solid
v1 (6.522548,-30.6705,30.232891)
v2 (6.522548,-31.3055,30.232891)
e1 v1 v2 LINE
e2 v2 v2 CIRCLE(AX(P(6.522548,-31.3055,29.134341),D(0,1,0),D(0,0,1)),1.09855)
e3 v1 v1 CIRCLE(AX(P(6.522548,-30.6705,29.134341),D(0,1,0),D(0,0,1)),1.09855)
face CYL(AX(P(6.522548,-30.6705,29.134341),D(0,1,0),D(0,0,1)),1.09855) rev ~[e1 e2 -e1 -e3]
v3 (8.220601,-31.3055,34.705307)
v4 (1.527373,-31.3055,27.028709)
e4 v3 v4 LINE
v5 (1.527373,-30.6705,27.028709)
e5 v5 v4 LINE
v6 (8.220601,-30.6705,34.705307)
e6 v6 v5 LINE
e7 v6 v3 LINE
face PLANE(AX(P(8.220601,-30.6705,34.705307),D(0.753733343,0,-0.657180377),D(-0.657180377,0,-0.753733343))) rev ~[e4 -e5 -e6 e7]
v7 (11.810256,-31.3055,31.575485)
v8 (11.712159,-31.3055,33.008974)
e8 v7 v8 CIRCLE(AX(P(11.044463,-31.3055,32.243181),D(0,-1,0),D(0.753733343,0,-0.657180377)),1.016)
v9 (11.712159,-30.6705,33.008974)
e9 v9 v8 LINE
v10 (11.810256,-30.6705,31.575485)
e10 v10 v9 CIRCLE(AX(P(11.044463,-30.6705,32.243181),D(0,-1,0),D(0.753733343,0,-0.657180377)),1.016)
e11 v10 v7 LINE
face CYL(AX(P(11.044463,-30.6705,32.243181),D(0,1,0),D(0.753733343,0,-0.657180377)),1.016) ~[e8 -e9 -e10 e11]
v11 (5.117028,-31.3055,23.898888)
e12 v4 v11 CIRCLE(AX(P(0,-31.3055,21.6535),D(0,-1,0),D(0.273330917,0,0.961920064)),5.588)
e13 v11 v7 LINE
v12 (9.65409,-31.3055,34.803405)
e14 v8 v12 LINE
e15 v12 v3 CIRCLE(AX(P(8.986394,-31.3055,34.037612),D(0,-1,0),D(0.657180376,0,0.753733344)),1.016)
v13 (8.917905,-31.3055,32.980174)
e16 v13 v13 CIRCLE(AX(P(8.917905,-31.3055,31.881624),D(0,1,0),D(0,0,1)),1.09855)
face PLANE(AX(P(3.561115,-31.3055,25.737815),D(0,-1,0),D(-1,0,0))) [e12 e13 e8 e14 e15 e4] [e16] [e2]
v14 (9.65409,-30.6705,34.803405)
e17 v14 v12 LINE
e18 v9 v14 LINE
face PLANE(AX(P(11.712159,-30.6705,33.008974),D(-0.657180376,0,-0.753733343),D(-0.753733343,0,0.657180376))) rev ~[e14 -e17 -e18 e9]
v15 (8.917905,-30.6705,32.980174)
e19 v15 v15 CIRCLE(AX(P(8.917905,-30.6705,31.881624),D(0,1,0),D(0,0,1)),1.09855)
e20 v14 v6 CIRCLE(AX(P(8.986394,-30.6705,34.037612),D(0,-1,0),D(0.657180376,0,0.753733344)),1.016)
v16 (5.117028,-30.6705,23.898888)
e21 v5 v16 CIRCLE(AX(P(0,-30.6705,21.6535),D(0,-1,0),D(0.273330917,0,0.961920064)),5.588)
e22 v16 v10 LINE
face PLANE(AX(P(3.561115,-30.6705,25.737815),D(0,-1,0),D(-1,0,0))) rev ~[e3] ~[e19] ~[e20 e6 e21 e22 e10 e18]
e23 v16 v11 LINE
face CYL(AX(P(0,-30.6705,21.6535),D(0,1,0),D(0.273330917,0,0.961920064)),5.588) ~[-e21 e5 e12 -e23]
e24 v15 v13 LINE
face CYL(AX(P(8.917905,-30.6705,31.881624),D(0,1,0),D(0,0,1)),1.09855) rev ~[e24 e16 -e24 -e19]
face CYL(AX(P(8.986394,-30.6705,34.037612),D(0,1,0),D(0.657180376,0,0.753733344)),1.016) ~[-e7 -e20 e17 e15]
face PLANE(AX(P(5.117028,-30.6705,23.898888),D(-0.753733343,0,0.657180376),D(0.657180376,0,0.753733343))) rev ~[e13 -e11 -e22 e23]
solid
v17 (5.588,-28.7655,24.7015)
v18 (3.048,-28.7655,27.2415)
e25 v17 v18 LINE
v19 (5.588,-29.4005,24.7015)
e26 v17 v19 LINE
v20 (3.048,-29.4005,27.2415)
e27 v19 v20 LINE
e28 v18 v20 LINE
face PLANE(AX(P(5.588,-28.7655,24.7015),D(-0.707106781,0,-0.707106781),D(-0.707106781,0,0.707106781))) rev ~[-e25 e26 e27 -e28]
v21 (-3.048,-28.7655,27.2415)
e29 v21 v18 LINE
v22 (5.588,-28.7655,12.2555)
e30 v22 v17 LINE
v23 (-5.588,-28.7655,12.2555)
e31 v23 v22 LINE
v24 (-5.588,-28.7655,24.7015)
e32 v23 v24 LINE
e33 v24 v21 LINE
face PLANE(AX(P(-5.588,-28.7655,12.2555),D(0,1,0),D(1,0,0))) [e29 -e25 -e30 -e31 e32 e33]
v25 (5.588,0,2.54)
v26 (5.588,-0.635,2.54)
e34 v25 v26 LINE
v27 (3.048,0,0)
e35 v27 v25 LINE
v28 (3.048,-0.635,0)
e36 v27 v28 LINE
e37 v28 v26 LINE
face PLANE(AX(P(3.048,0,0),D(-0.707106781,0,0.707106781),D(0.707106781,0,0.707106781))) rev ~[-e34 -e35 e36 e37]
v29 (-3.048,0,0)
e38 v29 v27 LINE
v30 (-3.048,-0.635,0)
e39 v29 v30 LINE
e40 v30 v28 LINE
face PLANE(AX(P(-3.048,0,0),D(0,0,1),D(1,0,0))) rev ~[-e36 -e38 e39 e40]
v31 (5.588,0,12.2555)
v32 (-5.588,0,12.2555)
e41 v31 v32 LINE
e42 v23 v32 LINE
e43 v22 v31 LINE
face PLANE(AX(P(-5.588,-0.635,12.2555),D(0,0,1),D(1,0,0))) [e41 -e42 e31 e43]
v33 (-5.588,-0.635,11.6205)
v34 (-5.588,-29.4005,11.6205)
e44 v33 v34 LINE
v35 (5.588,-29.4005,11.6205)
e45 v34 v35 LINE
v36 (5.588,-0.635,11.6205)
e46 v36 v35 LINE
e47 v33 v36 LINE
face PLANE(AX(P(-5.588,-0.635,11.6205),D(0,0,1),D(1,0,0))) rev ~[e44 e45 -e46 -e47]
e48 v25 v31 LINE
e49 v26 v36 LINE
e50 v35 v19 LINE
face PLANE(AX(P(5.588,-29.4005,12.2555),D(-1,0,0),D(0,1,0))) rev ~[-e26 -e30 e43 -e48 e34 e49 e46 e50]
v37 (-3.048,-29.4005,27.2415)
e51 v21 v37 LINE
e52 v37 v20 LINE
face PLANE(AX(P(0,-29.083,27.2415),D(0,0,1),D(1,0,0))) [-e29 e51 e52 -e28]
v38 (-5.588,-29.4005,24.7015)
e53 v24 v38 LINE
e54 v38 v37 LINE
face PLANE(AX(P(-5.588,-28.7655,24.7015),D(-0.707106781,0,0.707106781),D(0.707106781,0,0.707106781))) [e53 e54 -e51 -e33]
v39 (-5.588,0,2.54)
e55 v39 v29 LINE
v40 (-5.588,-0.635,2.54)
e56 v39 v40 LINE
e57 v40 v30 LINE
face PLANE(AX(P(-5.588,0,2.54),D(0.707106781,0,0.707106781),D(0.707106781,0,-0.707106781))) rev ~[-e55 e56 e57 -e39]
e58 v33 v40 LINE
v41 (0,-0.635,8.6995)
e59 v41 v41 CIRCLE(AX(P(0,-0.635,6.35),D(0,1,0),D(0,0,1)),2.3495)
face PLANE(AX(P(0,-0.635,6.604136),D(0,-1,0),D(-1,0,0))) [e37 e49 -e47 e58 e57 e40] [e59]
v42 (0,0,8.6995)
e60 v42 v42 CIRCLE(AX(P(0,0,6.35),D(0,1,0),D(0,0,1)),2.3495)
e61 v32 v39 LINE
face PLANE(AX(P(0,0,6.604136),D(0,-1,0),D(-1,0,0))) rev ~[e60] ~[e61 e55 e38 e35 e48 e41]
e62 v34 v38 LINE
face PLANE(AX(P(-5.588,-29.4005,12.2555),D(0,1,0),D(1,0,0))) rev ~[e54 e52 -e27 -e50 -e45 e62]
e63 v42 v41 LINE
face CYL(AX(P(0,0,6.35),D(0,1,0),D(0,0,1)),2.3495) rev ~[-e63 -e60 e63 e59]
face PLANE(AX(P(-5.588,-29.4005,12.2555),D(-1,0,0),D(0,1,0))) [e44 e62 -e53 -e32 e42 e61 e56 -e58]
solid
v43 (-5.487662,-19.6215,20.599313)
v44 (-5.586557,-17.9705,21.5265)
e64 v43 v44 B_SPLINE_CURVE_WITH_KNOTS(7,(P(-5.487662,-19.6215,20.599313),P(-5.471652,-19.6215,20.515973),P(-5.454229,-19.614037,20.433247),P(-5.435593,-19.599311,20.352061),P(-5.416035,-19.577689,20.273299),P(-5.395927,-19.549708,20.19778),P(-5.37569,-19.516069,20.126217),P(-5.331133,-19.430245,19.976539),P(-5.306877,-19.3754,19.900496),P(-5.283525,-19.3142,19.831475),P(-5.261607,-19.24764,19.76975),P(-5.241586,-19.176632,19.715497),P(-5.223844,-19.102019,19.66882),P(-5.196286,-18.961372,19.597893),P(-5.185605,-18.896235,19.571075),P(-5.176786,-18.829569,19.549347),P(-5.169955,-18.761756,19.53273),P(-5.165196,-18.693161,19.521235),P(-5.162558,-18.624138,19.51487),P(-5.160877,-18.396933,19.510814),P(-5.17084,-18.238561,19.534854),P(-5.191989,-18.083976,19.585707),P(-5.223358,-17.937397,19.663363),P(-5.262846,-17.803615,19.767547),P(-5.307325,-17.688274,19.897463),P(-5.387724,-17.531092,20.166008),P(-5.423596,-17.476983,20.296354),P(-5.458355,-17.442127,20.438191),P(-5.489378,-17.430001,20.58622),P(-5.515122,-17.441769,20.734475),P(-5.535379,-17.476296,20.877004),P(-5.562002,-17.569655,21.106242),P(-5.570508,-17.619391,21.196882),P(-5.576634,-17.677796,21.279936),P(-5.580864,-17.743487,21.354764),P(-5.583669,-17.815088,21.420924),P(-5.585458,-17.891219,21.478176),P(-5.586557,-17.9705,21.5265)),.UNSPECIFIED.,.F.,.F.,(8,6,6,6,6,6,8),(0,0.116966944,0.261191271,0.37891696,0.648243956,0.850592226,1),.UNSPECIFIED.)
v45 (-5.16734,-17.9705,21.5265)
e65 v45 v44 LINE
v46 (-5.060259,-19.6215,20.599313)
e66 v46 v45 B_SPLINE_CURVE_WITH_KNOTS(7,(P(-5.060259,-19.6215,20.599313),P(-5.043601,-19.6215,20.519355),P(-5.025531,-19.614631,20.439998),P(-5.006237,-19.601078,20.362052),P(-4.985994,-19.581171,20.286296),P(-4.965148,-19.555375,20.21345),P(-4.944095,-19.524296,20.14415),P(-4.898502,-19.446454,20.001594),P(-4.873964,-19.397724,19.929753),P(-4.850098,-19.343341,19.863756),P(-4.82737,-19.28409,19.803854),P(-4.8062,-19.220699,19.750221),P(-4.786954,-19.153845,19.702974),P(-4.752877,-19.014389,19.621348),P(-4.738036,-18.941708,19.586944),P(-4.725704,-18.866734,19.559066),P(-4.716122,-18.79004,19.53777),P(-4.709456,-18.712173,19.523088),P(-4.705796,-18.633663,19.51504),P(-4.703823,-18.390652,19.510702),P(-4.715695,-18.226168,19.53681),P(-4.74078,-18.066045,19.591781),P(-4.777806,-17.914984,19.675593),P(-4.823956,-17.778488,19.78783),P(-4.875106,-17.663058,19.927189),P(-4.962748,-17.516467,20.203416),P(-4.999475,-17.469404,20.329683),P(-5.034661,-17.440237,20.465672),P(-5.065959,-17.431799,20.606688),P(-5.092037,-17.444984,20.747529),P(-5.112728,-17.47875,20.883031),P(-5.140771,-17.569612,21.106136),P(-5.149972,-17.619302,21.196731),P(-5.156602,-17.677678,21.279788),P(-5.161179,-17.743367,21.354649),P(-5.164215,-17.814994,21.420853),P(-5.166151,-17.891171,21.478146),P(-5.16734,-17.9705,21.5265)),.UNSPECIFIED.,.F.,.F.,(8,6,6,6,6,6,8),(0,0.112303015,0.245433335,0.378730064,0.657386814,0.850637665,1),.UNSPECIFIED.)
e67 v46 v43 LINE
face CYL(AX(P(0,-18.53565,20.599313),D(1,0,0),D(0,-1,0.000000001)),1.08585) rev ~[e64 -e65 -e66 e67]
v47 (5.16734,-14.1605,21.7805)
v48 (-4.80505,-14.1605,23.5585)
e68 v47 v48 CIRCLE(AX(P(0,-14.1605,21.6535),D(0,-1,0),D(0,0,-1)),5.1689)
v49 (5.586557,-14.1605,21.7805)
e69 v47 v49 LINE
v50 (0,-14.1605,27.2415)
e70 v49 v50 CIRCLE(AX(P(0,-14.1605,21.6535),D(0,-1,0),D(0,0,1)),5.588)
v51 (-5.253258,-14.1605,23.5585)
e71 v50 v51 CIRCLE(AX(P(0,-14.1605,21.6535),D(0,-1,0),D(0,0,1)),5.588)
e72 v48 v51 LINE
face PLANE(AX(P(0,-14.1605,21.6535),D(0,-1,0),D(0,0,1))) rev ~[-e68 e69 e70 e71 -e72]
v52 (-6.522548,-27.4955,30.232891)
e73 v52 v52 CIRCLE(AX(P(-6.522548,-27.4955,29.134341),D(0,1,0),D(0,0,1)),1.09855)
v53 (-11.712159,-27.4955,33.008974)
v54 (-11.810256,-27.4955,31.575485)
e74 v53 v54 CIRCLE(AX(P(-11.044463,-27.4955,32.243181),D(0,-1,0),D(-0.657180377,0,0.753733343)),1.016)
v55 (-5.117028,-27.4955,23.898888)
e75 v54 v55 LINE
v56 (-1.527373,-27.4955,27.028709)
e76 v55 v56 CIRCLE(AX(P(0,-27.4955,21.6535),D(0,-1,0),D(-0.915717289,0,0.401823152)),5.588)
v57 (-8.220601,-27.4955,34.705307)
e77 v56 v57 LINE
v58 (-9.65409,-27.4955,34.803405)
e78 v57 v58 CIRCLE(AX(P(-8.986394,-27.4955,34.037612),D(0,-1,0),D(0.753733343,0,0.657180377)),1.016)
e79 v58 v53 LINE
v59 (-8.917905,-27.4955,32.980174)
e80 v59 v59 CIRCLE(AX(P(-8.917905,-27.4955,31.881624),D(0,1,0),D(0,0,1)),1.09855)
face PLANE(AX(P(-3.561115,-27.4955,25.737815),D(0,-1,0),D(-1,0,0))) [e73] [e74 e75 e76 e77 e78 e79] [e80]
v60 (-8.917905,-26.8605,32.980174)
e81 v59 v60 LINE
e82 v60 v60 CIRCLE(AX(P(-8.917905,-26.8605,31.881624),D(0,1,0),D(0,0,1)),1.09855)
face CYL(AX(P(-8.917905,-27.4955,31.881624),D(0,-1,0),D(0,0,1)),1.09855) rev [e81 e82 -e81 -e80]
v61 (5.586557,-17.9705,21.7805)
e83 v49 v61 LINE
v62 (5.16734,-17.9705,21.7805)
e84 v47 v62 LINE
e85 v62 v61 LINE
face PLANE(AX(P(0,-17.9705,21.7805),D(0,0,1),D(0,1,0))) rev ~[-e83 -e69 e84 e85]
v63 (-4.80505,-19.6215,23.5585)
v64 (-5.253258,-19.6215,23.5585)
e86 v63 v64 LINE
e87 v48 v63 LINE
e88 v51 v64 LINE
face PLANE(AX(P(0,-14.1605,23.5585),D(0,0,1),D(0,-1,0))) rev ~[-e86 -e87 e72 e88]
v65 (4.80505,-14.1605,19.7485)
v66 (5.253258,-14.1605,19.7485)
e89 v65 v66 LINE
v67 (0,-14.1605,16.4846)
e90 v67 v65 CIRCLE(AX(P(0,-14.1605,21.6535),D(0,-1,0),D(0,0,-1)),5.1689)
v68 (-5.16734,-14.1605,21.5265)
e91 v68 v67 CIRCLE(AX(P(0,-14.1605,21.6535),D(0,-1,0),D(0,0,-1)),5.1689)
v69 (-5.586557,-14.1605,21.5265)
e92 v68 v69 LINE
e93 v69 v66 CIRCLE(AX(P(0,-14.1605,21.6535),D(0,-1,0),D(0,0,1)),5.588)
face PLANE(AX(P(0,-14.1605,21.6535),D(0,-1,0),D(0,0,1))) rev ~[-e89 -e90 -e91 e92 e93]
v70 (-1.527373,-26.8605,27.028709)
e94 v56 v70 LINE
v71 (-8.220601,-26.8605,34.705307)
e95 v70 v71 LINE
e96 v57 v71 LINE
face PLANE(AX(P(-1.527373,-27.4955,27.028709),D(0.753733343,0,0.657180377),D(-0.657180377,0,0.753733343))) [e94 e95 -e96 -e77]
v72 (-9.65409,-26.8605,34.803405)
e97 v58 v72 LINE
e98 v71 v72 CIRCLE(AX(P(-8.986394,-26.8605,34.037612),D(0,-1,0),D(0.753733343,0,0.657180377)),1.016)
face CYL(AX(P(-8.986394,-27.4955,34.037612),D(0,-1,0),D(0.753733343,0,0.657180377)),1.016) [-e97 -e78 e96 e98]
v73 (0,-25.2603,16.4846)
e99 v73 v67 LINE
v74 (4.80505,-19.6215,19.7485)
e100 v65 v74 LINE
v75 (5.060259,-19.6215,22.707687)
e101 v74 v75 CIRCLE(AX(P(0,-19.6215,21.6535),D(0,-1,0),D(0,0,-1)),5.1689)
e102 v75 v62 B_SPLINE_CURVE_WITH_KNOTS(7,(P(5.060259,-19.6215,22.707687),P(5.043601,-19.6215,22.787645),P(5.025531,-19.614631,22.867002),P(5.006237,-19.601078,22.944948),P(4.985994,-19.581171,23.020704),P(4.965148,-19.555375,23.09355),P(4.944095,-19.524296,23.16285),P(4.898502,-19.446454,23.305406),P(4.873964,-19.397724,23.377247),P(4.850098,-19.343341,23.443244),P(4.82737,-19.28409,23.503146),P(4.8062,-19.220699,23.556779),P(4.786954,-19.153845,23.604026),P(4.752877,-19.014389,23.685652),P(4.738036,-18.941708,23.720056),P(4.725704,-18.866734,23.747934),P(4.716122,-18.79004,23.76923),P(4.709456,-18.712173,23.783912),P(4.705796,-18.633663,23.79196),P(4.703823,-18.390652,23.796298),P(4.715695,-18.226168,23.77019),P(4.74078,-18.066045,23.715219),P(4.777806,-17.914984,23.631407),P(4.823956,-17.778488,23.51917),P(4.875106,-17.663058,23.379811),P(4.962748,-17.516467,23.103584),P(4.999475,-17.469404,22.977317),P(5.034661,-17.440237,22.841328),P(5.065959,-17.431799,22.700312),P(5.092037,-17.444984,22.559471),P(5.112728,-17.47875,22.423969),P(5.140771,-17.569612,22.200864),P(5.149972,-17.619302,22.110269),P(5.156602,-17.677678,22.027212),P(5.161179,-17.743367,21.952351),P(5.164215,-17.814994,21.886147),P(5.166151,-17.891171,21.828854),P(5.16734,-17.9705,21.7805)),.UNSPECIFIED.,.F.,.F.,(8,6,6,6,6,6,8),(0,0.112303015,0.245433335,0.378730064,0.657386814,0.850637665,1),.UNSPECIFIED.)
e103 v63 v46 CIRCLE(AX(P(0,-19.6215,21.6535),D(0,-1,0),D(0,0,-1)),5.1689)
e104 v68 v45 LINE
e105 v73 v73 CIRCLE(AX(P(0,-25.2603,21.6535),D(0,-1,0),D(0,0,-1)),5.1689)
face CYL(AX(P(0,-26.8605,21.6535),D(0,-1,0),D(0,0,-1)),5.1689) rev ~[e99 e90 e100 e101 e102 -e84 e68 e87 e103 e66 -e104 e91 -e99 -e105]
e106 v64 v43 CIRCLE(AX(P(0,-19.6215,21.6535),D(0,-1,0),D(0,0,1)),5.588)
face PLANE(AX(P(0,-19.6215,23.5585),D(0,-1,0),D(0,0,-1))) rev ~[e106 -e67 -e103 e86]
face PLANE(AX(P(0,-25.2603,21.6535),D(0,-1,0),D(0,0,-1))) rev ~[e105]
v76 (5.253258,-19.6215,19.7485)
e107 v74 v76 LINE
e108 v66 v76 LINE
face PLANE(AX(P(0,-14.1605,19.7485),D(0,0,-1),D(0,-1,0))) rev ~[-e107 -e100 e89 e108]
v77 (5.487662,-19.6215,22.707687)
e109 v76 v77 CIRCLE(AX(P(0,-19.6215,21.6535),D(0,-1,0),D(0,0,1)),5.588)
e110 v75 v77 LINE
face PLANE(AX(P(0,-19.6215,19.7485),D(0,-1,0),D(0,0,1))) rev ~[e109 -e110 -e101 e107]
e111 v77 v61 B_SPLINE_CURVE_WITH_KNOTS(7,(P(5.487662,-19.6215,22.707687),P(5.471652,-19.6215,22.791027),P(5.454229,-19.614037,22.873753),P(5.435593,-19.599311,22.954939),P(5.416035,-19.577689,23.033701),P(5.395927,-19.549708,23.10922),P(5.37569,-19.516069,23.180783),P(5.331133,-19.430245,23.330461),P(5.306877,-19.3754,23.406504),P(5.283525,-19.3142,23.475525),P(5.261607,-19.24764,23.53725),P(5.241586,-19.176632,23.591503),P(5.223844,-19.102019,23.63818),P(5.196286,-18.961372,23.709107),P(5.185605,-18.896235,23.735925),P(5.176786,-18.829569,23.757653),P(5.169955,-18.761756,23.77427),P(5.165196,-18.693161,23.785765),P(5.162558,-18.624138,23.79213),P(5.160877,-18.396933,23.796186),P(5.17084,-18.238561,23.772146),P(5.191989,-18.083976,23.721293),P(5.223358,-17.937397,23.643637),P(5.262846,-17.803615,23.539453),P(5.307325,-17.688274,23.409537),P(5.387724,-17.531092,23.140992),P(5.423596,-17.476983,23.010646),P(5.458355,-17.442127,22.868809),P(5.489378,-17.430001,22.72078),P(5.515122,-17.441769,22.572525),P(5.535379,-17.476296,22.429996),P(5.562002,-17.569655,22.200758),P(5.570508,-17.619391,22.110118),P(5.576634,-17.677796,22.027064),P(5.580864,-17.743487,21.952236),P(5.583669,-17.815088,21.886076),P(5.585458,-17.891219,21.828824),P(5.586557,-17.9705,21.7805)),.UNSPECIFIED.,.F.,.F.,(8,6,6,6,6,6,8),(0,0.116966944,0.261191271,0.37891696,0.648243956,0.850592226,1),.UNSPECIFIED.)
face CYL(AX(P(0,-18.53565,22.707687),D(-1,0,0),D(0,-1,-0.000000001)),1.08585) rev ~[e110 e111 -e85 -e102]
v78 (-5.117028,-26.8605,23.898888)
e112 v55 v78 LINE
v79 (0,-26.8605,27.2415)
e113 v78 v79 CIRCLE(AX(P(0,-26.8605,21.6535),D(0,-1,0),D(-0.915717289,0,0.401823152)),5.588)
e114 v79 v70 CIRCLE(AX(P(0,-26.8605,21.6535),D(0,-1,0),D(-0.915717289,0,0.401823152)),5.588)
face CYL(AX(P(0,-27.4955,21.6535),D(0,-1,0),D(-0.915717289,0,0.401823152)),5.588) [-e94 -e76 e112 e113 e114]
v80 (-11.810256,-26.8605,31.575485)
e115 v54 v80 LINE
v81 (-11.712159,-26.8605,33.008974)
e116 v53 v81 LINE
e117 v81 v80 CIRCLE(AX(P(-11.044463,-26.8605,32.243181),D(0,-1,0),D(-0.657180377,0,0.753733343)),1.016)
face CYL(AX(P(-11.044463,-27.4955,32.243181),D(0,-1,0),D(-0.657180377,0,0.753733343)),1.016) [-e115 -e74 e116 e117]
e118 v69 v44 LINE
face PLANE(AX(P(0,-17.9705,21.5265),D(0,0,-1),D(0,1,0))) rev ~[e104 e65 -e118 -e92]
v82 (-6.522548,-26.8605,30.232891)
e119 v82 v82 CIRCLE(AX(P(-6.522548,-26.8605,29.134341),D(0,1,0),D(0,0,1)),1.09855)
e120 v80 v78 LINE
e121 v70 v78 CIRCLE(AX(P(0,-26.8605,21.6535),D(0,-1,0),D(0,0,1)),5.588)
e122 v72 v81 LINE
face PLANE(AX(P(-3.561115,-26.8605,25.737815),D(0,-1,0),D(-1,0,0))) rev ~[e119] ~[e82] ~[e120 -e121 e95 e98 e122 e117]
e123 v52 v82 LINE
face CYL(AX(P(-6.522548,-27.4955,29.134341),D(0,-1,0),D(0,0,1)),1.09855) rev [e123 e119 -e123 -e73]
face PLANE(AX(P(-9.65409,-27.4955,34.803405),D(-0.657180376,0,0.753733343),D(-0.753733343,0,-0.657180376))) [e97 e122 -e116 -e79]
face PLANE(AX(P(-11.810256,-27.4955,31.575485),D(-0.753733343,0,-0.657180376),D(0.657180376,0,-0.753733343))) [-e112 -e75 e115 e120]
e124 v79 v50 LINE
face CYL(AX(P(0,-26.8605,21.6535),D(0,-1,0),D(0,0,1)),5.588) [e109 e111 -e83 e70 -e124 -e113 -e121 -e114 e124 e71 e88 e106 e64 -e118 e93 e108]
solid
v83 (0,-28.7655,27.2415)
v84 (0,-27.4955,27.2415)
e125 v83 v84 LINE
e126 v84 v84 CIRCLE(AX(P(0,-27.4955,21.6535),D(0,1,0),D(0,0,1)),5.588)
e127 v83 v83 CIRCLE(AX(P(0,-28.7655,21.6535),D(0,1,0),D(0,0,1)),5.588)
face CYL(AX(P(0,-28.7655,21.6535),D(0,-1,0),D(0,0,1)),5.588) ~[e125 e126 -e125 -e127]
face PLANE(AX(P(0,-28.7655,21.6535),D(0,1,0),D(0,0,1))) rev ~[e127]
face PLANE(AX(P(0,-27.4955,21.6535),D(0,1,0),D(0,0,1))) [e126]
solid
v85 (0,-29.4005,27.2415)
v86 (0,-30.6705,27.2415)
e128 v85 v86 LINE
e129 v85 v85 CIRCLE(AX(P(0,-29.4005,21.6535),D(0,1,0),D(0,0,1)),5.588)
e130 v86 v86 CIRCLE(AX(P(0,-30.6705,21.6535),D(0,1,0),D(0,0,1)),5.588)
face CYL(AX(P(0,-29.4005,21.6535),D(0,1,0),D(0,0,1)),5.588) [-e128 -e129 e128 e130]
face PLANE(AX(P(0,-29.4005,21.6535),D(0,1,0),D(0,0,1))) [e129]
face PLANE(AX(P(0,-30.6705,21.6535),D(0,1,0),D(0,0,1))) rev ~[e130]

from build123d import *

# Parameters (mm, degrees)
SKETCH1_R           = 2.3495
BOSS_EXTRUDE1_DEPTH = 0.635
SKETCH2_W           = 11.176
SKETCH2_H           = 0.635
BOSS_EXTRUDE2_DEPTH = 28.7655
SKETCH3_W           = 11.176
SKETCH3_H           = 0.635
BOSS_EXTRUDE3_DEPTH = 14.986
CUT_EXTRUDE1_DEPTH  = 41.009737021
SKETCH5_R           = 5.588
BOSS_EXTRUDE4_DEPTH = 1.27
SKETCH6_R           = 1.09855
BOSS_EXTRUDE5_DEPTH = 0.635
SKETCH7_R           = 5.588
BOSS_EXTRUDE6_DEPTH = 1.27
SKETCH8_R           = 1.09855
BOSS_EXTRUDE7_DEPTH = 0.635
SKETCH9_R           = 5.588
SKETCH9_R_2         = 5.1689
BOSS_EXTRUDE8_DEPTH = 12.7
SKETCH10_R          = 5.1689
BOSS_EXTRUDE9_DEPTH = 1.6002
CUT_EXTRUDE2_DEPTH  = 49.520560567
CIRPATTERN1_COUNT   = 2


with BuildPart() as part:
    # Sketch1 → Boss-Extrude1 (new body)
    with BuildSketch(Plane(origin=(0, 0, 0), x_dir=(1, 0, 0), z_dir=(0, 1, 0))):
        Polygon((-3.048, 0), (3.048, 0), (5.588, -2.54), (5.588, -12.2555), (-5.588, -12.2555), (-5.588, -2.54), align=None)
        with Locations(Location((0, -6.35, 0), (0, 0, 270))):
            Circle(SKETCH1_R, mode=Mode.SUBTRACT)
    extrude(amount=-BOSS_EXTRUDE1_DEPTH)

    # Sketch2 → Boss-Extrude2 (add)
    with BuildSketch(Plane.XZ.offset(0.635)):
        with Locations((0, 11.938)):
            Rectangle(SKETCH2_W, SKETCH2_H)
    extrude(amount=BOSS_EXTRUDE2_DEPTH)

    # Sketch3 → Boss-Extrude3 (add)
    with BuildSketch(Plane.XY.offset(12.2555)):
        with Locations((0, -29.083)):
            Rectangle(SKETCH3_W, SKETCH3_H)
    extrude(amount=BOSS_EXTRUDE3_DEPTH)

    # Sketch4 → Cut-Extrude1 (cut, through all)
    with BuildSketch(Plane(origin=(0, -28.7655, 0), x_dir=(1, 0, 0), z_dir=(0, 1, 0))):
        Polygon((-5.588, -24.7015), (-3.048, -27.2415), (-5.588, -27.2415), align=None)
        Polygon((5.588, -27.2415), (5.588, -24.7015), (3.048, -27.2415), align=None)
    extrude(amount=-CUT_EXTRUDE1_DEPTH, mode=Mode.SUBTRACT)


with BuildPart() as body_2:
    # Sketch5 → Boss-Extrude4 (new body)
    with BuildSketch(Plane(origin=(0, -28.7655, 0), x_dir=(1, 0, 0), z_dir=(0, 1, 0))):
        with Locations(Location((0, -21.6535, 0), (0, 0, 270))):
            Circle(SKETCH5_R)
    extrude(amount=BOSS_EXTRUDE4_DEPTH)


with BuildPart() as body_3:
    # Sketch6 → Boss-Extrude5 (new body)
    with BuildSketch(Plane(origin=(0, -27.4955, 0), x_dir=(1, 0, 0), z_dir=(0, 1, 0))):
        with BuildLine():
            Line((-11.810256461, -31.57548538), (-5.117028214, -23.898887775))
            ThreePointArc((-5.117028214, -23.898887775), (3.672323944, -17.441638078), (-1.527373166, -27.028709318))
            Line((-1.527373166, -27.028709318), (-8.220601414, -34.705306923))
            ThreePointArc((-8.220601414, -34.705306923), (-8.917028861, -35.051240986), (-9.654089753, -34.803404738))
            Line((-9.654089753, -34.803404738), (-11.712158647, -33.00897372))
            ThreePointArc((-11.712158647, -33.00897372), (-12.05809271, -32.312546272), (-11.810256461, -31.57548538))
        make_face()
        with Locations(Location((-8.91790485, -31.881623782, 0), (0, 0, 270))):
            Circle(SKETCH6_R, mode=Mode.SUBTRACT)
        with Locations(Location((-6.522548095, -29.134341119, 0), (0, 0, 270))):
            Circle(SKETCH6_R, mode=Mode.SUBTRACT)
    extrude(amount=BOSS_EXTRUDE5_DEPTH)

    # Sketch9 → Boss-Extrude8 (add)
    with BuildSketch(Plane(origin=(0, -26.8605, 0), x_dir=(-1, 0, 0), z_dir=(0, -1, 0))):
        with Locations(Location((0, -21.6535, 0), (0, 0, 270))):
            Circle(SKETCH9_R)
        with Locations(Location((0, -21.6535, 0), (0, 0, 90))):
            Circle(SKETCH9_R_2, mode=Mode.SUBTRACT)
    extrude(amount=-BOSS_EXTRUDE8_DEPTH)

    # Sketch10 → Boss-Extrude9 (add)
    with BuildSketch(Plane(origin=(0, -26.8605, 0), x_dir=(-1, 0, 0), z_dir=(0, -1, 0))):
        with Locations(Location((0, -21.6535, 0), (0, 0, 90))):
            Circle(SKETCH10_R)
    extrude(amount=-BOSS_EXTRUDE9_DEPTH)

    # Sketch11 → Cut-Extrude2 (cut, through all)
    with BuildSketch(Plane(origin=(0, 0, 0), x_dir=(0, 0, -1), z_dir=(1, 0, 0))):
        with BuildLine():
            Line((-19.7485, -14.1605), (-19.7485, -19.6215))
            Line((-19.7485, -19.6215), (-22.707686982, -19.6215))
            ThreePointArc((-22.707686982, -19.6215), (-23.654454734, -18.003953613), (-21.7805, -17.9705))
            Line((-21.7805, -17.9705), (-21.7805, -14.1605))
            Line((-21.7805, -14.1605), (-19.7485, -14.1605))
        make_face()
    cut_extrude2 = extrude(amount=CUT_EXTRUDE2_DEPTH, mode=Mode.SUBTRACT)

    # CirPattern1: Cut-Extrude2 ×2 about axis
    cirpattern1_axis = Axis((0, -14.1605, 21.6535), (0, -1, 0))
    for i in range(1, CIRPATTERN1_COUNT):
        add(cut_extrude2.rotate(cirpattern1_axis, i * 360 / CIRPATTERN1_COUNT), mode=Mode.SUBTRACT)


with BuildPart() as body_4:
    # Sketch7 → Boss-Extrude6 (new body)
    with BuildSketch(Plane(origin=(0, -29.4005, 0), x_dir=(1, 0, 0), z_dir=(0, 1, 0))):
        with Locations(Location((0, -21.6535, 0), (0, 0, 270))):
            Circle(SKETCH7_R)
    extrude(amount=-BOSS_EXTRUDE6_DEPTH)


with BuildPart() as body_5:
    # Sketch8 → Boss-Extrude7 (new body)
    with BuildSketch(Plane(origin=(0, -30.6705, 0), x_dir=(1, 0, 0), z_dir=(0, 1, 0))):
        with BuildLine():
            Line((11.712158647, -33.00897372), (9.654089753, -34.803404738))
            ThreePointArc((9.654089753, -34.803404738), (8.917028861, -35.051240986), (8.220601414, -34.705306923))
            Line((8.220601414, -34.705306923), (1.527373166, -27.028709318))
            ThreePointArc((1.527373166, -27.028709318), (-3.672323944, -17.441638078), (5.117028214, -23.898887775))
            Line((5.117028214, -23.898887775), (11.810256461, -31.57548538))
            ThreePointArc((11.810256461, -31.57548538), (12.05809271, -32.312546272), (11.712158647, -33.00897372))
        make_face()
        with Locations(Location((6.522548095, -29.134341119, 0), (0, 0, 270))):
            Circle(SKETCH8_R, mode=Mode.SUBTRACT)
        with Locations(Location((8.91790485, -31.881623782, 0), (0, 0, 270))):
            Circle(SKETCH8_R, mode=Mode.SUBTRACT)
    extrude(amount=-BOSS_EXTRUDE7_DEPTH)


solid = Compound([part.part, body_2.part, body_3.part, body_4.part, body_5.part])
